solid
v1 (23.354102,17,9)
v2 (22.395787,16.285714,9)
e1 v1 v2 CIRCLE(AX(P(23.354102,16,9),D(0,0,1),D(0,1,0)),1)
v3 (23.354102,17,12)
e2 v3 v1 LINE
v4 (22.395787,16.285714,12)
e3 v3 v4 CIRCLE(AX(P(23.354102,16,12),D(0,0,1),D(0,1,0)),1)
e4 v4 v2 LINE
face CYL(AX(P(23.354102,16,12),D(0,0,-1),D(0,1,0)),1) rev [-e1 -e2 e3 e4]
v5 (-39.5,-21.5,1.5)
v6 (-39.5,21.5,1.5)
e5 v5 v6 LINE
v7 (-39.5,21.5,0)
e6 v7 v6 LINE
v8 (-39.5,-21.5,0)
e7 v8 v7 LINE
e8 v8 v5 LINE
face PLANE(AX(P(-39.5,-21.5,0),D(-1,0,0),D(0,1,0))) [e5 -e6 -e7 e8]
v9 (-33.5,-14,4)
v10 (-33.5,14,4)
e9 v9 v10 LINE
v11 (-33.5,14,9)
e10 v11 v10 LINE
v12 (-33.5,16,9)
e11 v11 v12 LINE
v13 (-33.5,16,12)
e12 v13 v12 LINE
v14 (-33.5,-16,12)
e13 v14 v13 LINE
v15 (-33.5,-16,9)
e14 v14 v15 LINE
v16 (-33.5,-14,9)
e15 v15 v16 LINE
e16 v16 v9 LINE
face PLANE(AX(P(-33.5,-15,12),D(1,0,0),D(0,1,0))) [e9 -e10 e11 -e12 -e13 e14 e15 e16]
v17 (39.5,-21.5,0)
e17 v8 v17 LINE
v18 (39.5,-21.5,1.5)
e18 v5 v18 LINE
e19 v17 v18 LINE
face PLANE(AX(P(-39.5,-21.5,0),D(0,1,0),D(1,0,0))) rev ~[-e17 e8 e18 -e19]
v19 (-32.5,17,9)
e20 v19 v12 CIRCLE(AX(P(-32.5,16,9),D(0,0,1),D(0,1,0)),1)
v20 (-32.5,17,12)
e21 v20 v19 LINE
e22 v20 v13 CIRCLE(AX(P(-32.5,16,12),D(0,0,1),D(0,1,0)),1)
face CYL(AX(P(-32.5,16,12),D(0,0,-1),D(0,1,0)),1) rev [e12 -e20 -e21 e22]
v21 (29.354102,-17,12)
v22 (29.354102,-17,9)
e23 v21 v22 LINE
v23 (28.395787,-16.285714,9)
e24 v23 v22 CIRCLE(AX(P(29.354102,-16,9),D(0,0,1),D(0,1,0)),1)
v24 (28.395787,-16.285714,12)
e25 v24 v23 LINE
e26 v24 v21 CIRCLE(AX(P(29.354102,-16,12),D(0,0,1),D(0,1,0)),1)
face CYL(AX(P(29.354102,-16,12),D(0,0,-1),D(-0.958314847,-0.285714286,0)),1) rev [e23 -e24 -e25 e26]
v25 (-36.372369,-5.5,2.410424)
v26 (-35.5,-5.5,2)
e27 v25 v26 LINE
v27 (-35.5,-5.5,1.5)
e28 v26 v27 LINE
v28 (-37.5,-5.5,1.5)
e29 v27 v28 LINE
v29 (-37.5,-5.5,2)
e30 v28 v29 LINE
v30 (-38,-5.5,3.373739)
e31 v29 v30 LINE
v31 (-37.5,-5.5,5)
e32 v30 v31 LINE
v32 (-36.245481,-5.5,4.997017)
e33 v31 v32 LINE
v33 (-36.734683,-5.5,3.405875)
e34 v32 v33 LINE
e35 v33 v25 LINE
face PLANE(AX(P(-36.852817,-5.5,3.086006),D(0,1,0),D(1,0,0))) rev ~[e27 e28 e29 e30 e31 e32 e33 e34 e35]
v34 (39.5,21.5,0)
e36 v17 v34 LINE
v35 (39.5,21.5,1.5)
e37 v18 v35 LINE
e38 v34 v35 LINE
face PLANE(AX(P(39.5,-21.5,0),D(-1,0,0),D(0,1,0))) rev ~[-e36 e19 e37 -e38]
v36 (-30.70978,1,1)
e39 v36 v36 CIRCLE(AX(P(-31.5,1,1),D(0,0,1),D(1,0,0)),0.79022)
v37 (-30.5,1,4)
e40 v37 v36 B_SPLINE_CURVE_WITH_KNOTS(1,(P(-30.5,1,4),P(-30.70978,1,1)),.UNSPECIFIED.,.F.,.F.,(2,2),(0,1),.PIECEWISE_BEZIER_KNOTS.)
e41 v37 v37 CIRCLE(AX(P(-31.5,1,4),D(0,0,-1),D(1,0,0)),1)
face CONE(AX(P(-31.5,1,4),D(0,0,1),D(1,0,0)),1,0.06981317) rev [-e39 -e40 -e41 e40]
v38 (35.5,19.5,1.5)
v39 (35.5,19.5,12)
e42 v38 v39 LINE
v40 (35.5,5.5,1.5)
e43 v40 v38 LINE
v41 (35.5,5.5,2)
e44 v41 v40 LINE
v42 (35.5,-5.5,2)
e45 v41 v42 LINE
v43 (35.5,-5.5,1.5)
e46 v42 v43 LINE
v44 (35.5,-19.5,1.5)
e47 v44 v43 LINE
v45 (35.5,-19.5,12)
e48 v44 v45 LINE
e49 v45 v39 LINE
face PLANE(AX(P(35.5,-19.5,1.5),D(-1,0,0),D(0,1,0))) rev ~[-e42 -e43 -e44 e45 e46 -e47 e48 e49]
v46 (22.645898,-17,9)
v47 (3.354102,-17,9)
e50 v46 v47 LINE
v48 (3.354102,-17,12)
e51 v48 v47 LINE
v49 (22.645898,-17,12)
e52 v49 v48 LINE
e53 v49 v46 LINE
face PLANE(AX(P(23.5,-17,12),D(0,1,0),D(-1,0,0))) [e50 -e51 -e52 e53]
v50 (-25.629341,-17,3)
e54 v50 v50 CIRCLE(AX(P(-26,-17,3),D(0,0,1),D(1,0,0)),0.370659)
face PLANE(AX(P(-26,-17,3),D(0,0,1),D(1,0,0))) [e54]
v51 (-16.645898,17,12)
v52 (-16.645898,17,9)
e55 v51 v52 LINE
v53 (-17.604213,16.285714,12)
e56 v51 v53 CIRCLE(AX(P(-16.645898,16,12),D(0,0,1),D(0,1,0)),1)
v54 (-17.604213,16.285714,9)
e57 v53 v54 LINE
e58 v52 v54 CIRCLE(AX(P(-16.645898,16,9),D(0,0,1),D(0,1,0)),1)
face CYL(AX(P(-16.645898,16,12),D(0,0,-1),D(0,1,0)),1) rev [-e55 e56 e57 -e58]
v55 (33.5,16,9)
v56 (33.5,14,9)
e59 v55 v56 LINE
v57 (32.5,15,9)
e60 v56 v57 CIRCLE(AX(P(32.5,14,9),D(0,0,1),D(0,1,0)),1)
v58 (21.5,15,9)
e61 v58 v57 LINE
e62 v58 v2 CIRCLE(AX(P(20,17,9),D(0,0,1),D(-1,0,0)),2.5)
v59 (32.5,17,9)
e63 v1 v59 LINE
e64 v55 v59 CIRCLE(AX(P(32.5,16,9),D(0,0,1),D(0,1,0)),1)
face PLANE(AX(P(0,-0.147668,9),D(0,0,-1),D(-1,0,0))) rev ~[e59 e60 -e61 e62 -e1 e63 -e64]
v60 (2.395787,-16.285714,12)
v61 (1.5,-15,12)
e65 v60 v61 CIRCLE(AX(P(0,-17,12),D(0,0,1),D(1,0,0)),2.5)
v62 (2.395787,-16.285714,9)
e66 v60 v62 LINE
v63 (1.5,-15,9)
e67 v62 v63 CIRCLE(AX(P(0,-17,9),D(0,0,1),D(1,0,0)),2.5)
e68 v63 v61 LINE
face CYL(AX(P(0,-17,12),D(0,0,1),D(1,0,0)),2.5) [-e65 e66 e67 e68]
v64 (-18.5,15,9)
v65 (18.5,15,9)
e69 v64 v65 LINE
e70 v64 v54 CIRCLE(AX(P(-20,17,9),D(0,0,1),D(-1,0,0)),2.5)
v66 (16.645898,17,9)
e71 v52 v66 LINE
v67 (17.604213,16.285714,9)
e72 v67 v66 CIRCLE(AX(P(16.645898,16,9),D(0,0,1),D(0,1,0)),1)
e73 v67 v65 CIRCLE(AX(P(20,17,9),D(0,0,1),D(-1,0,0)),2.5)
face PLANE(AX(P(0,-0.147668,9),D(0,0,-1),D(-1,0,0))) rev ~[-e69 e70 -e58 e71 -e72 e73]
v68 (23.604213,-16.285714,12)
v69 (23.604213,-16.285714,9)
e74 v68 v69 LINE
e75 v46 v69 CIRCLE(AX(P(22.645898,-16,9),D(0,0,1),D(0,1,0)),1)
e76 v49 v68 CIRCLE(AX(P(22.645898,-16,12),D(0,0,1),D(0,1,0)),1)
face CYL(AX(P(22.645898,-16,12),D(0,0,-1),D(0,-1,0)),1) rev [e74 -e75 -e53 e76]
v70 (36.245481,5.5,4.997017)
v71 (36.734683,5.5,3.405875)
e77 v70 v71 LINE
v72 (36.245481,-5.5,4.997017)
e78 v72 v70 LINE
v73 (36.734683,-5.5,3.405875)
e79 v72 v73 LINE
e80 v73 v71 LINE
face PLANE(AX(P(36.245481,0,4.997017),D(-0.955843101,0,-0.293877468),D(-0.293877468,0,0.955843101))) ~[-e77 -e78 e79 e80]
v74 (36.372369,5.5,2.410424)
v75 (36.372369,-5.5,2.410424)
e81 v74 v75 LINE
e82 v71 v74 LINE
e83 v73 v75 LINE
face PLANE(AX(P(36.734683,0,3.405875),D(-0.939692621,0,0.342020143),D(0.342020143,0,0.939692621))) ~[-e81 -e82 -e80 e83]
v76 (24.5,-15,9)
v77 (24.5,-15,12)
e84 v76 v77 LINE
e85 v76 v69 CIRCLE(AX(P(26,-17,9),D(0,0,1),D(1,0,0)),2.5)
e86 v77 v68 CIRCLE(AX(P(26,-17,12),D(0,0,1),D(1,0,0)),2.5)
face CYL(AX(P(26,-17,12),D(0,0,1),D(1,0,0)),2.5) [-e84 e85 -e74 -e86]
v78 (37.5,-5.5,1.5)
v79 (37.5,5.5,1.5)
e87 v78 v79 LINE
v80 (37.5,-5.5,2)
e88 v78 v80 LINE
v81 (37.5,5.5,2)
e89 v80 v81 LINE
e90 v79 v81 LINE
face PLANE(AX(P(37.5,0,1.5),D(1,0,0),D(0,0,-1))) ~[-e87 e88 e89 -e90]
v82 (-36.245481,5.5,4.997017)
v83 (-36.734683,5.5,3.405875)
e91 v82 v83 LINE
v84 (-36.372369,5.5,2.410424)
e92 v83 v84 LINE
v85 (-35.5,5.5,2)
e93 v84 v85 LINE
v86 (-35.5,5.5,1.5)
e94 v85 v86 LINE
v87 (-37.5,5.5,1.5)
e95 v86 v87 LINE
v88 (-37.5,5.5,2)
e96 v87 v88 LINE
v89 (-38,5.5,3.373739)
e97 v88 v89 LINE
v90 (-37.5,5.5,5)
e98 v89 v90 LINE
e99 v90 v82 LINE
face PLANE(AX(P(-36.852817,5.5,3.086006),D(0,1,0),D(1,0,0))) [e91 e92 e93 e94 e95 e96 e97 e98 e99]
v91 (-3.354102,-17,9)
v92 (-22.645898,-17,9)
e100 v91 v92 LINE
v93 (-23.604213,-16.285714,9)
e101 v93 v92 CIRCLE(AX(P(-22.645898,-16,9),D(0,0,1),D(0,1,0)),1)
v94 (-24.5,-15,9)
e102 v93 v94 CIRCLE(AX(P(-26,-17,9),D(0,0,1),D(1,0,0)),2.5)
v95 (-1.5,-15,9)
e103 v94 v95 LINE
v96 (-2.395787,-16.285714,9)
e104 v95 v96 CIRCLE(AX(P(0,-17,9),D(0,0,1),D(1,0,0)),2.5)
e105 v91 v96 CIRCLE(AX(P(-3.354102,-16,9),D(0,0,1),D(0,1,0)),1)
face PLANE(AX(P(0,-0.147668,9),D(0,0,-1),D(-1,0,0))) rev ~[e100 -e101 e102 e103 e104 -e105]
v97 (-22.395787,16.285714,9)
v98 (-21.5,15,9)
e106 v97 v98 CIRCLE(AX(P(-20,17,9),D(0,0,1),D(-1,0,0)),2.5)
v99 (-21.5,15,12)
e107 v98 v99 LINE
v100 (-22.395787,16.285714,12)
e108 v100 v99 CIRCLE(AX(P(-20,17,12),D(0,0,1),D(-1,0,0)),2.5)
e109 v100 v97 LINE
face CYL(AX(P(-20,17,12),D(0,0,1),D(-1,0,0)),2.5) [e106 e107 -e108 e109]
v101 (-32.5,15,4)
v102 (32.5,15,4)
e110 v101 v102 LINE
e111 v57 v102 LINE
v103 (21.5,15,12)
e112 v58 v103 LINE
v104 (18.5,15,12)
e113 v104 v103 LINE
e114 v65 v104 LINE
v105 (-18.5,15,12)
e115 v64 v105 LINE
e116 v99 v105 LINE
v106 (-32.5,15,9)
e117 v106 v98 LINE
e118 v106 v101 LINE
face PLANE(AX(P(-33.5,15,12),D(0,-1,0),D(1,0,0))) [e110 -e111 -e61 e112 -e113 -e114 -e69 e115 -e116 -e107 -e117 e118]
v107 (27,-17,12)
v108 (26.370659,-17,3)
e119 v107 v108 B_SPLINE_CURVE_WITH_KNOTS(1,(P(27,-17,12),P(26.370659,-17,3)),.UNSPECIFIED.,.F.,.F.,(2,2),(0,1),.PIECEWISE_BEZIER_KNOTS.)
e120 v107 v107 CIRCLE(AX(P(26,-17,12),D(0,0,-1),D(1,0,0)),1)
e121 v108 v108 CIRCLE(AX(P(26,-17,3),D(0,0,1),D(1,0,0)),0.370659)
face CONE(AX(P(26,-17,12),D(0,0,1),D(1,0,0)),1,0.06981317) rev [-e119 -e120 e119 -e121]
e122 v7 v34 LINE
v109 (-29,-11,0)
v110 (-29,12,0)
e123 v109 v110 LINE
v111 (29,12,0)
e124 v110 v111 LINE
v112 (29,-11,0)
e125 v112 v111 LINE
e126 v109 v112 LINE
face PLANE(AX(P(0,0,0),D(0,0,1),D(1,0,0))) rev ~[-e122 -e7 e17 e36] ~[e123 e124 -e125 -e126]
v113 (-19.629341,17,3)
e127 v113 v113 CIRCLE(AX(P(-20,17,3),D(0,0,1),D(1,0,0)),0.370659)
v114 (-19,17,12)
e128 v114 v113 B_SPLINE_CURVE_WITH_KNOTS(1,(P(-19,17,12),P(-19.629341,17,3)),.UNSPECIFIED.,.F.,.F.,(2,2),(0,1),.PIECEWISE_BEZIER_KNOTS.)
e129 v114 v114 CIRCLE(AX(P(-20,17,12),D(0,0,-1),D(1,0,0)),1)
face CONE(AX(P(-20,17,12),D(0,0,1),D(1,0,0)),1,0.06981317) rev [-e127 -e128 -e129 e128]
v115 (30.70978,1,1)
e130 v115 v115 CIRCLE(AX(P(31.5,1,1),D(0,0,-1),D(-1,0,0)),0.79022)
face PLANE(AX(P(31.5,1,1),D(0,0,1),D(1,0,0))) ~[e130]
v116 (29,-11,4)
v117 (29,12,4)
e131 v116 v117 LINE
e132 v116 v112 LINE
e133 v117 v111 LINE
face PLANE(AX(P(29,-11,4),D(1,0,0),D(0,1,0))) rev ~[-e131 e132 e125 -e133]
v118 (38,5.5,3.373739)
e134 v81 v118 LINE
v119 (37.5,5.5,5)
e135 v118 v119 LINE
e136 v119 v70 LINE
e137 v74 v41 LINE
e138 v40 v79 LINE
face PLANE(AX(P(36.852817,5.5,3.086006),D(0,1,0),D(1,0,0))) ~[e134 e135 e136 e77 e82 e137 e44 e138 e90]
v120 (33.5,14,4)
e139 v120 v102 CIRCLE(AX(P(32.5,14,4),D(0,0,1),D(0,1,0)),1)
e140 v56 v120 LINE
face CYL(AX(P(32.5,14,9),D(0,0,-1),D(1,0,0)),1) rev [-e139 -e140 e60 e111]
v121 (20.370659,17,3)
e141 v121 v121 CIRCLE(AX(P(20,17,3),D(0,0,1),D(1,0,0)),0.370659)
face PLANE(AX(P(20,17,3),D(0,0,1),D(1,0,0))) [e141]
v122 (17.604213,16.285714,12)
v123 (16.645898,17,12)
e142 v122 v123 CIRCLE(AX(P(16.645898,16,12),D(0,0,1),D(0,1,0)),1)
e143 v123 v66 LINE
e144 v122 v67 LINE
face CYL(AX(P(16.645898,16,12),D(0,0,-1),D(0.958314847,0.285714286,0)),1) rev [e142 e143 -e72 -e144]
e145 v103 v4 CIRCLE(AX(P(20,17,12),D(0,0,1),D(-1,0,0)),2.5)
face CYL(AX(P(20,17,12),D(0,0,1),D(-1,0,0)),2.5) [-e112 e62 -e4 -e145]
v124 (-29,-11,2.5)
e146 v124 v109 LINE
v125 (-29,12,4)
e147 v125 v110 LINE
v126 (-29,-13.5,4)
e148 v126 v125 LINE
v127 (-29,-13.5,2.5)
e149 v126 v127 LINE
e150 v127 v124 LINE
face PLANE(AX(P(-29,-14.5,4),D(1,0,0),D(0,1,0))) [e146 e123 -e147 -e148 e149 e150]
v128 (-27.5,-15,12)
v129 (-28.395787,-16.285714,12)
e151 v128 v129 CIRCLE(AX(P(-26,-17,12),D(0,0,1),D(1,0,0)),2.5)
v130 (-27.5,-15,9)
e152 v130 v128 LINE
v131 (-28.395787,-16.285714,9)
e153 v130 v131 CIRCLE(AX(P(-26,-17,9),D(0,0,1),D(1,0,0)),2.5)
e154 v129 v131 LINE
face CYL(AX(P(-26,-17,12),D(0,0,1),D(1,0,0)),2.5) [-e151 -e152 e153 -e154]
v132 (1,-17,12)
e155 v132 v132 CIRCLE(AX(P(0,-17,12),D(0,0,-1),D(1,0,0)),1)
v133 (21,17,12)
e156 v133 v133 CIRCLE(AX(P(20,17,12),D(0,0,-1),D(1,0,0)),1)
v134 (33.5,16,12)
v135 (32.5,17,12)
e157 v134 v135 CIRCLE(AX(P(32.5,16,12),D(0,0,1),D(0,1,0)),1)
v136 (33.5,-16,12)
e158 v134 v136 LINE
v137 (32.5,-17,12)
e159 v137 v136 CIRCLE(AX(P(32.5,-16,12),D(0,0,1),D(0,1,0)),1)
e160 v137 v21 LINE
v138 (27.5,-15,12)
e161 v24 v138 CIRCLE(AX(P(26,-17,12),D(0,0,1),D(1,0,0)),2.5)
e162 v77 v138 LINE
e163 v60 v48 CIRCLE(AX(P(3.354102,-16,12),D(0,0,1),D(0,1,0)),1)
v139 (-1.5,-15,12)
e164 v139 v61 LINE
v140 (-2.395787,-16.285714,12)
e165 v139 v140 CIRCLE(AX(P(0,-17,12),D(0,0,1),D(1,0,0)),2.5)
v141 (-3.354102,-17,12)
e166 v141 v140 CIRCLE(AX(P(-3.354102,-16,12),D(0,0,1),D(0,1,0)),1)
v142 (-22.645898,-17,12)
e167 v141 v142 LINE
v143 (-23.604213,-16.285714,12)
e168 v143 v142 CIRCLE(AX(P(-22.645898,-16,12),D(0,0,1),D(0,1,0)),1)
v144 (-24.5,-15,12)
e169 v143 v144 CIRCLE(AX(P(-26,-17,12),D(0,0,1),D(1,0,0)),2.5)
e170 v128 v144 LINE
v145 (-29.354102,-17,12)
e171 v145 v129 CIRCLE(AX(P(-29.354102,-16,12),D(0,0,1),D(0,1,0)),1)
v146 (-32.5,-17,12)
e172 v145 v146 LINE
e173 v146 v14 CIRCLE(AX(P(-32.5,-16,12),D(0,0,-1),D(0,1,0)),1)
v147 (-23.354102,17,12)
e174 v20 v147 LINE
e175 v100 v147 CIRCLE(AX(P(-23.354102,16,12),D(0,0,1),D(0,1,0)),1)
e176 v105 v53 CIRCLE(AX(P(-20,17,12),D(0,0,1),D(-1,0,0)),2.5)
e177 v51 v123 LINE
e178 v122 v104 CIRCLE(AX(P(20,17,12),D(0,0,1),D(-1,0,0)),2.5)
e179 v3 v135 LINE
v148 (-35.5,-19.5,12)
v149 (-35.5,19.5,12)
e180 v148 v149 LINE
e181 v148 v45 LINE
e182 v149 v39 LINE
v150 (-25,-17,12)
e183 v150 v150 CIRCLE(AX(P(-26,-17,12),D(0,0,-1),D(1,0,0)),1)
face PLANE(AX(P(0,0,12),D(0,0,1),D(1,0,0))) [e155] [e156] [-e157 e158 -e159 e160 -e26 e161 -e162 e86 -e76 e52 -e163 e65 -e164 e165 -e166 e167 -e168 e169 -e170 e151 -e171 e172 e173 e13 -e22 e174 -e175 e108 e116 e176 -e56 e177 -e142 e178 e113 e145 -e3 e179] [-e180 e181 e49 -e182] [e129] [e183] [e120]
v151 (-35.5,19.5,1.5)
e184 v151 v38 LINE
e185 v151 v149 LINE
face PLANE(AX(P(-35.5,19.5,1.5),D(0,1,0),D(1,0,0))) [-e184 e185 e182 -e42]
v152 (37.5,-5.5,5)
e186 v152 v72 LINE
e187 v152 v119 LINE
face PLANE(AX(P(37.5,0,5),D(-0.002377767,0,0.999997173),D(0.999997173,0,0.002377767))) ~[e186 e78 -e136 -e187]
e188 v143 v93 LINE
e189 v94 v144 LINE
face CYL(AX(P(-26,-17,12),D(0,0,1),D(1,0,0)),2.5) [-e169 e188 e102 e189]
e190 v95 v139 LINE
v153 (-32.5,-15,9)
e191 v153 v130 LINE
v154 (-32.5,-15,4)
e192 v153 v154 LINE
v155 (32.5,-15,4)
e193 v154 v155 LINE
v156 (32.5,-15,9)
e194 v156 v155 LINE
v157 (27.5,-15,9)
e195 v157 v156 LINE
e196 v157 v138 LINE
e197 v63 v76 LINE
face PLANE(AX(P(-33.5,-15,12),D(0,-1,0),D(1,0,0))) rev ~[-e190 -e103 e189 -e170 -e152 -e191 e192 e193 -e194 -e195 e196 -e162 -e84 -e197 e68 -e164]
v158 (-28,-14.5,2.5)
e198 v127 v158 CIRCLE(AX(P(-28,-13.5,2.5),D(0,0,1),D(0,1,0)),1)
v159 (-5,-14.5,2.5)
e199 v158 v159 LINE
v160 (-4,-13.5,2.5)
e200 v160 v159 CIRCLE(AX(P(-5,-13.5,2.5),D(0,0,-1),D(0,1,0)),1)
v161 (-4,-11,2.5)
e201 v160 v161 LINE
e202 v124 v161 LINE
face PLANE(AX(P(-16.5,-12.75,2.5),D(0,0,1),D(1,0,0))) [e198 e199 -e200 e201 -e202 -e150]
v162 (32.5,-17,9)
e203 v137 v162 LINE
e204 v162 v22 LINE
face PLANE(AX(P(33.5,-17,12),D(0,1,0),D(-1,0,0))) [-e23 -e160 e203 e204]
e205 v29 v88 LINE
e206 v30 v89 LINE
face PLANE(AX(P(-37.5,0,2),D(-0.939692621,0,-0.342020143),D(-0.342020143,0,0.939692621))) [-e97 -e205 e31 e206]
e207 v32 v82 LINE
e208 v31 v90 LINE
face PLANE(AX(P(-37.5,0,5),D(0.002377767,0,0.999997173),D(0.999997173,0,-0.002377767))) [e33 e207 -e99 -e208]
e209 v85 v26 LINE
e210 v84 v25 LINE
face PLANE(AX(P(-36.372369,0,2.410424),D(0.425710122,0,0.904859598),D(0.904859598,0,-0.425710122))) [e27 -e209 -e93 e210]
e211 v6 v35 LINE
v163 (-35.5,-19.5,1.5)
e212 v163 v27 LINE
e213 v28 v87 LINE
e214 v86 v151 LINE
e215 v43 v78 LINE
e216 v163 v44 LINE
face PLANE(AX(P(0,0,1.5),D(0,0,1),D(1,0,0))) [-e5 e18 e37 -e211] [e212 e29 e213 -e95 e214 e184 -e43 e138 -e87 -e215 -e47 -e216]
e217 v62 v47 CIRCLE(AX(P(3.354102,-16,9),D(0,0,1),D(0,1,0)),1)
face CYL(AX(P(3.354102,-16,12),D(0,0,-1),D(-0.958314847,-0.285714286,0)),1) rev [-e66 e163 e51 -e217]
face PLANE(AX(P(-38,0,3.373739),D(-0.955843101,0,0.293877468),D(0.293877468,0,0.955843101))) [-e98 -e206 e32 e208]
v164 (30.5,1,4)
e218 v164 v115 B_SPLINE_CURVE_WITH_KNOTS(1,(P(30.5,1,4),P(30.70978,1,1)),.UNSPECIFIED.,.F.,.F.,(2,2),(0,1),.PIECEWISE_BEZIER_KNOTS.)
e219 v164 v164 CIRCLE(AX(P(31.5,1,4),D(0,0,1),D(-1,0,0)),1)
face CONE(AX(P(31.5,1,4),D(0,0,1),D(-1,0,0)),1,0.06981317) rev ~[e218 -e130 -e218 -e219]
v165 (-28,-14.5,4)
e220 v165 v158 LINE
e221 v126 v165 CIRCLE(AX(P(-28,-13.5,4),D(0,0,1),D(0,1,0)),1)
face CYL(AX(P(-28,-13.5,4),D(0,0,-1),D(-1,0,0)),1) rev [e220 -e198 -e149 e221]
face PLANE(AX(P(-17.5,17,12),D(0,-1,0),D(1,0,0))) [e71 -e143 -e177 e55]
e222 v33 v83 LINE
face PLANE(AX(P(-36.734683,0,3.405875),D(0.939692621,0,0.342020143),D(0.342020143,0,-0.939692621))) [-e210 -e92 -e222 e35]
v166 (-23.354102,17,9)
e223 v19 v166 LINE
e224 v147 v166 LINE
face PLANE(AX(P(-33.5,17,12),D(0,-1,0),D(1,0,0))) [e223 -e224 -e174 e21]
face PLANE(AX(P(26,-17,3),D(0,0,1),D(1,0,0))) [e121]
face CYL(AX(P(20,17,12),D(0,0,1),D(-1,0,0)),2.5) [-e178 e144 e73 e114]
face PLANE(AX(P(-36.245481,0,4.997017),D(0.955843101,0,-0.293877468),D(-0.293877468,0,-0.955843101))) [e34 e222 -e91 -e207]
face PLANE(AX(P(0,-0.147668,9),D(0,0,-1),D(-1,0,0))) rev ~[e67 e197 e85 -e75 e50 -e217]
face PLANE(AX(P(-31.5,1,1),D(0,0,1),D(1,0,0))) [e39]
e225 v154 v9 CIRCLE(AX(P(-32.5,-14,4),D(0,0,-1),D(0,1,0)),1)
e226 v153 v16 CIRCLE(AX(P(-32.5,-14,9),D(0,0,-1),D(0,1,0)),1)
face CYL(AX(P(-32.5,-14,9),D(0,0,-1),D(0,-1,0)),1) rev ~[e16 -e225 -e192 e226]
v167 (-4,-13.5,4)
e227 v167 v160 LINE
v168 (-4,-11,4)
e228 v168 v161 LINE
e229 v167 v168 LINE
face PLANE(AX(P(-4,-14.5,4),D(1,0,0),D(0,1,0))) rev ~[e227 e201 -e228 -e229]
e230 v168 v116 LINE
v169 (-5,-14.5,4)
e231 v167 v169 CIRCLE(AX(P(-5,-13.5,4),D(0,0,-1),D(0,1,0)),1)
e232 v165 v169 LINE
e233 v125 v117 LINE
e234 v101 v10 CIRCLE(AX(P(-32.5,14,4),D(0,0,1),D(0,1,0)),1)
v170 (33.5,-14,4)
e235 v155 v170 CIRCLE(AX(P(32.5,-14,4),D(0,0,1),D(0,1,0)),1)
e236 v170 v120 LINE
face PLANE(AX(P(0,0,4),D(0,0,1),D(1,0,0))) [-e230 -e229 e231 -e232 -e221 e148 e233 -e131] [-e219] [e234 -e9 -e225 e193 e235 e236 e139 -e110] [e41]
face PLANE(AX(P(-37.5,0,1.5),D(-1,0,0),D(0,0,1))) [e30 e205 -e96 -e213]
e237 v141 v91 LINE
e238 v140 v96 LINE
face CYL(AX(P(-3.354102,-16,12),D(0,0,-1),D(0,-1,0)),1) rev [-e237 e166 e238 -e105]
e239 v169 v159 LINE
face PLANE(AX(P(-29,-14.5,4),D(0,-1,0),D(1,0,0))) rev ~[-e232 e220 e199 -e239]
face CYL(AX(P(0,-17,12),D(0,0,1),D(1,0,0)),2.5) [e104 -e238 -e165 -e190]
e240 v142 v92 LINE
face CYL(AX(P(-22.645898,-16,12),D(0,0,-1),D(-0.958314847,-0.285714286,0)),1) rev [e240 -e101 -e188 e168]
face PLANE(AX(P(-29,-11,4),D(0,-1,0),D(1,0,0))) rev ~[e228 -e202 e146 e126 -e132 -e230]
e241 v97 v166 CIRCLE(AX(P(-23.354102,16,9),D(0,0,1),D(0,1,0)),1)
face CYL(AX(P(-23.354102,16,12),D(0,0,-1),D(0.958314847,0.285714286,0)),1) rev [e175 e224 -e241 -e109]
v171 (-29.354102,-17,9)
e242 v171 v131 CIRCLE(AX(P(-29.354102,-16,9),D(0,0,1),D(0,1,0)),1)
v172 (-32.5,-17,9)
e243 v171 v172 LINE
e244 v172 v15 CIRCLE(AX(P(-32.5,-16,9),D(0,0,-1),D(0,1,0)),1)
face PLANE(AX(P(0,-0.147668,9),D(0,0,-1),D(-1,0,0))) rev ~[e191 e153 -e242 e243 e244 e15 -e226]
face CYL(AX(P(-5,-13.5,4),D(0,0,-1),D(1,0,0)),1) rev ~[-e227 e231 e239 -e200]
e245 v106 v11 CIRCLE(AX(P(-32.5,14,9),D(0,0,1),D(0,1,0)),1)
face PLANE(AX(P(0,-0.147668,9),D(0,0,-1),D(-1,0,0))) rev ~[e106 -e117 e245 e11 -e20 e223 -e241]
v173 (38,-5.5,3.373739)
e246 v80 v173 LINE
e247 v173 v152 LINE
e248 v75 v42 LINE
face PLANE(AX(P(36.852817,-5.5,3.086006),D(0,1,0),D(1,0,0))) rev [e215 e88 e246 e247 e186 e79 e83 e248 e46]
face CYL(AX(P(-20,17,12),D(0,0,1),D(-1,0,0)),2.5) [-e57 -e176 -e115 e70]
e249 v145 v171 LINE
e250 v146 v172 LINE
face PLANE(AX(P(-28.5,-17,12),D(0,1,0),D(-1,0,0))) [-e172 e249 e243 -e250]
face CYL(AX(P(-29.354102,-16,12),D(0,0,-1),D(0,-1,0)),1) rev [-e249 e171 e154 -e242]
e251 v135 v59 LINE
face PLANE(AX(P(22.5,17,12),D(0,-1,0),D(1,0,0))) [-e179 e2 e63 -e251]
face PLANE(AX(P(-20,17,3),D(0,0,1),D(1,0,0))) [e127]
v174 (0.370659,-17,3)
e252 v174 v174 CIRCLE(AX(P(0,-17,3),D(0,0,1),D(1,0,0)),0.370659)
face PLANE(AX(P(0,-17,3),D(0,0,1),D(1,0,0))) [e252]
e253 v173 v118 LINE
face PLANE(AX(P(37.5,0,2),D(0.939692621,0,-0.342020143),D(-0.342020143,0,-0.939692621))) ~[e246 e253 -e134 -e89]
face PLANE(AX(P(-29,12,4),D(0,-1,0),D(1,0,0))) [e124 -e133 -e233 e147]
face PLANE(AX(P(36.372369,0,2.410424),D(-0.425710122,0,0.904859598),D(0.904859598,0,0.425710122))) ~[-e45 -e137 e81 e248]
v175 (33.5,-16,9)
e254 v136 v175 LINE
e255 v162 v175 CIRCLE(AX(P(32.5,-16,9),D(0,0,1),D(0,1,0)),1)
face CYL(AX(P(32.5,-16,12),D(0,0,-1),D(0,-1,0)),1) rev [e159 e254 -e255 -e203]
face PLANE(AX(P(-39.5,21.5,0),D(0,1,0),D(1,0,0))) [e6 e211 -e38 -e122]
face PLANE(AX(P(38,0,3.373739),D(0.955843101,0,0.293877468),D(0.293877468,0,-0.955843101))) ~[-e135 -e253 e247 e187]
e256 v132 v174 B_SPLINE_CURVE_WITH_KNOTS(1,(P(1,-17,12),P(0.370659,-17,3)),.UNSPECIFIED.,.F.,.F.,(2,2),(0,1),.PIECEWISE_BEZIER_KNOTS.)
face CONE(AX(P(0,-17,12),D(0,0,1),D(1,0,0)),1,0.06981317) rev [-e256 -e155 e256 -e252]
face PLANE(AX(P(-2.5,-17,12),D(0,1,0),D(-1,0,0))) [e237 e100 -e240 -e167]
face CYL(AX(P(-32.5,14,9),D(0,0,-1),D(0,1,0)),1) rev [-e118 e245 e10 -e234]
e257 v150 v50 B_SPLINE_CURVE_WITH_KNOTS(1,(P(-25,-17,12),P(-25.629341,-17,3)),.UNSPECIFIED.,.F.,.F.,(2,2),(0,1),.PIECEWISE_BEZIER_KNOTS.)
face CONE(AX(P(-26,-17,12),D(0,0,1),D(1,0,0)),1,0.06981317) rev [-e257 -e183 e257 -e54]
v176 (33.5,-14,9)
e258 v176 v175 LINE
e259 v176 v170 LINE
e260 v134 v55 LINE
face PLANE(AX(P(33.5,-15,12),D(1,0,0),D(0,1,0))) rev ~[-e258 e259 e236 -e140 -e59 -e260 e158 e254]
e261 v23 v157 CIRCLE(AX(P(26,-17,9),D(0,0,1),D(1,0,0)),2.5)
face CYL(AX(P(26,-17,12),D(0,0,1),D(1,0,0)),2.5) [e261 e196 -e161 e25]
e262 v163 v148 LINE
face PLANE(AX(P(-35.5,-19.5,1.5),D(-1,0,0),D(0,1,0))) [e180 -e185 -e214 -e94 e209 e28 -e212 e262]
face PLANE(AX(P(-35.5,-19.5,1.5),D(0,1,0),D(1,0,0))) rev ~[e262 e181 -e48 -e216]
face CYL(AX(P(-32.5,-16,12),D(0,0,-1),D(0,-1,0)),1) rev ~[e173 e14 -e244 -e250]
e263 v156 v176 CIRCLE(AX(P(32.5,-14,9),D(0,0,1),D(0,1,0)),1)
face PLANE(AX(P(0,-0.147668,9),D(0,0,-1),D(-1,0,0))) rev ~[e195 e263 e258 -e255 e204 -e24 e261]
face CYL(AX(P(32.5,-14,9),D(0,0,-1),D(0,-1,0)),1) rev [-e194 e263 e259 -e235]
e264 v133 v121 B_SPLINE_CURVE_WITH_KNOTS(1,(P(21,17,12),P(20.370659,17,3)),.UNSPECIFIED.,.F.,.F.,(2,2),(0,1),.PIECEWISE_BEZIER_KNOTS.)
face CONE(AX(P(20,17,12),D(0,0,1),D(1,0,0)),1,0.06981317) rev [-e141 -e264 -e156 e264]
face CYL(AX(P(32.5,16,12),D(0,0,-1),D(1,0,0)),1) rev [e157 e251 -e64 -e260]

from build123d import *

# Parameters (mm, degrees)
SKETCH_1_W          = 79
SKETCH_1_H          = 43
EXTRUDE_1_DEPTH     = 1.5
SKETCH_2_W          = 71
SKETCH_2_H          = 39
EXTRUDE_2_DEPTH     = 10.5
SKETCH_3_W          = 67
SKETCH_3_H          = 30
CUT_EXTRUDE_1_DEPTH = 8
SKETCH_4_W          = 58
SKETCH_4_H          = 23
CUT_EXTRUDE_2_DEPTH = 5
SKETCH_6_R          = 1
CUT_EXTRUDE_3_DEPTH = 9
CUT_EXTRUDE_3_TAPER = 4
SKETCH_7_R          = 1
CUT_EXTRUDE_4_DEPTH = 3
CUT_EXTRUDE_4_TAPER = 4
CUT_EXTRUDE_5_DEPTH = 3
FILLET_1_R          = 1
SKETCH_9_W          = 25
SKETCH_9_H          = 3.5
CUT_EXTRUDE_6_DEPTH = 1.5
FILLET_2_R          = 1
EXTRUDE_3_DEPTH     = 5.5


with BuildPart() as part:
    # Эскиз1 → Бобышка-Вытянуть1 (new body)
    with BuildSketch(Plane.XY):
        Rectangle(SKETCH_1_W, SKETCH_1_H)
    extrude(amount=EXTRUDE_1_DEPTH)

    # Эскиз2 → Бобышка-Вытянуть2 (add)
    with BuildSketch(Plane.XY.offset(1.5)):
        Rectangle(SKETCH_2_W, SKETCH_2_H)
    extrude(amount=EXTRUDE_2_DEPTH)

    # Эскиз3 → Вырез-Вытянуть1 (cut)
    with BuildSketch(Plane.XY.offset(12)):
        Rectangle(SKETCH_3_W, SKETCH_3_H)
    extrude(amount=-CUT_EXTRUDE_1_DEPTH, mode=Mode.SUBTRACT)

    # Эскиз4 → Вырез-Вытянуть2 (cut, through all)
    with BuildSketch(Plane.XY.offset(4)):
        with Locations((0, 0.5)):
            Rectangle(SKETCH_4_W, SKETCH_4_H)
    extrude(amount=-CUT_EXTRUDE_2_DEPTH, mode=Mode.SUBTRACT)

    # Эскиз6 → Вырез-Вытянуть3 (cut)
    with BuildSketch(Plane.XY.offset(12)):
        with Locations((-26, -17)):
            Circle(SKETCH_6_R)
        with Locations((0, -17)):
            Circle(SKETCH_6_R)
        with Locations((26, -17)):
            Circle(SKETCH_6_R)
        with Locations((20, 17)):
            Circle(SKETCH_6_R)
        with Locations((-20, 17)):
            Circle(SKETCH_6_R)
    extrude(amount=-CUT_EXTRUDE_3_DEPTH, taper=CUT_EXTRUDE_3_TAPER, mode=Mode.SUBTRACT)

    # Эскиз7 → Вырез-Вытянуть4 (cut)
    with BuildSketch(Plane.XY.offset(4)):
        with Locations((-31.5, 1)):
            Circle(SKETCH_7_R)
    cut_extrude_4 = extrude(amount=-CUT_EXTRUDE_4_DEPTH, taper=CUT_EXTRUDE_4_TAPER, mode=Mode.SUBTRACT)

    # Зеркальное отражение1: Вырез-Вытянуть4 across plane
    add(cut_extrude_4.mirror(Plane(origin=(0, 0, 0), x_dir=(0, 0, 1), z_dir=(1, 0, 0))), mode=Mode.SUBTRACT)

    # Эскиз8 → Вырез-Вытянуть5 (cut)
    with BuildSketch(Plane.XY.offset(12)):
        with BuildLine():
            Line((-17.5, 17), (17.5, 17))
            ThreePointArc((17.5, 17), (20, 14.5), (22.5, 17))
            Line((22.5, 17), (33.5, 17))
            Line((33.5, 17), (33.5, 15))
            Line((33.5, 15), (33.5, -15))
            Line((33.5, -15), (33.5, -17))
            Line((33.5, -17), (28.5, -17))
            ThreePointArc((28.5, -17), (26, -14.5), (23.5, -17))
            Line((23.5, -17), (2.5, -17))
            ThreePointArc((2.5, -17), (0, -14.5), (-2.5, -17))
            Line((-2.5, -17), (-23.5, -17))
            ThreePointArc((-23.5, -17), (-26, -14.5), (-28.5, -17))
            Line((-28.5, -17), (-33.5, -17))
            Line((-33.5, -17), (-33.5, -15))
            Line((-33.5, -15), (-33.5, 15))
            Line((-33.5, 15), (-33.5, 17))
            Line((-33.5, 17), (-22.5, 17))
            ThreePointArc((-22.5, 17), (-20, 14.5), (-17.5, 17))
        make_face()
    extrude(amount=-CUT_EXTRUDE_5_DEPTH, mode=Mode.SUBTRACT)

    # Скругление1
    fillet_1_edges = [part.edges().sort_by_distance(p)[0] for p in [
        (28.5, -17, 10.5),
        (2.5, -17, 10.5),
        (-23.5, -17, 10.5),
        (-33.5, -17, 10.5),
        (-22.5, 17, 10.5),
        (-17.5, 17, 10.5),
        (17.5, 17, 10.5),
        (22.5, 17, 10.5),
        (33.5, 17, 10.5),
        (33.5, -17, 10.5),
        (23.5, -17, 10.5),
        (-2.5, -17, 10.5),
        (-28.5, -17, 10.5),
        (-33.5, 17, 10.5),
        (-33.5, 15, 6.5),
        (33.5, 15, 6.5),
        (33.5, -15, 6.5),
        (-33.5, -15, 6.5),
    ]]
    fillet(fillet_1_edges, radius=FILLET_1_R)

    # Эскиз9 → Вырез-Вытянуть6 (cut)
    with BuildSketch(Plane.XY.offset(4)):
        with Locations((-16.5, -12.75)):
            Rectangle(SKETCH_9_W, SKETCH_9_H)
    extrude(amount=-CUT_EXTRUDE_6_DEPTH, mode=Mode.SUBTRACT)

    # Скругление2
    fillet_2_edges = [part.edges().sort_by_distance(p)[0] for p in [
        (-29, -14.5, 3.25),
        (-4, -14.5, 3.25),
    ]]
    fillet(fillet_2_edges, radius=FILLET_2_R)

    # Эскиз14 → Бобышка-Вытянуть3 (add, symmetric)
    with BuildSketch(Plane(origin=(0, 0, 0), x_dir=(1, 0, 0), z_dir=(0, 1, 0))):
        Polygon((-35.5, -1.5), (-37.5, -1.5), (-37.5, -2), (-38, -3.37373871), (-37.5, -5), (-36.245480955, -4.997017038), (-36.734683372, -3.405875127), (-36.372368855, -2.410424172), (-35.5, -2), align=None)
    extrude_3 = extrude(amount=EXTRUDE_3_DEPTH, both=True)

    # Зеркальное отражение2: Бобышка-Вытянуть3 across plane
    add(extrude_3.mirror(Plane(origin=(0, 0, 0), x_dir=(0, 0, 1), z_dir=(1, 0, 0))))


solid = part.part
